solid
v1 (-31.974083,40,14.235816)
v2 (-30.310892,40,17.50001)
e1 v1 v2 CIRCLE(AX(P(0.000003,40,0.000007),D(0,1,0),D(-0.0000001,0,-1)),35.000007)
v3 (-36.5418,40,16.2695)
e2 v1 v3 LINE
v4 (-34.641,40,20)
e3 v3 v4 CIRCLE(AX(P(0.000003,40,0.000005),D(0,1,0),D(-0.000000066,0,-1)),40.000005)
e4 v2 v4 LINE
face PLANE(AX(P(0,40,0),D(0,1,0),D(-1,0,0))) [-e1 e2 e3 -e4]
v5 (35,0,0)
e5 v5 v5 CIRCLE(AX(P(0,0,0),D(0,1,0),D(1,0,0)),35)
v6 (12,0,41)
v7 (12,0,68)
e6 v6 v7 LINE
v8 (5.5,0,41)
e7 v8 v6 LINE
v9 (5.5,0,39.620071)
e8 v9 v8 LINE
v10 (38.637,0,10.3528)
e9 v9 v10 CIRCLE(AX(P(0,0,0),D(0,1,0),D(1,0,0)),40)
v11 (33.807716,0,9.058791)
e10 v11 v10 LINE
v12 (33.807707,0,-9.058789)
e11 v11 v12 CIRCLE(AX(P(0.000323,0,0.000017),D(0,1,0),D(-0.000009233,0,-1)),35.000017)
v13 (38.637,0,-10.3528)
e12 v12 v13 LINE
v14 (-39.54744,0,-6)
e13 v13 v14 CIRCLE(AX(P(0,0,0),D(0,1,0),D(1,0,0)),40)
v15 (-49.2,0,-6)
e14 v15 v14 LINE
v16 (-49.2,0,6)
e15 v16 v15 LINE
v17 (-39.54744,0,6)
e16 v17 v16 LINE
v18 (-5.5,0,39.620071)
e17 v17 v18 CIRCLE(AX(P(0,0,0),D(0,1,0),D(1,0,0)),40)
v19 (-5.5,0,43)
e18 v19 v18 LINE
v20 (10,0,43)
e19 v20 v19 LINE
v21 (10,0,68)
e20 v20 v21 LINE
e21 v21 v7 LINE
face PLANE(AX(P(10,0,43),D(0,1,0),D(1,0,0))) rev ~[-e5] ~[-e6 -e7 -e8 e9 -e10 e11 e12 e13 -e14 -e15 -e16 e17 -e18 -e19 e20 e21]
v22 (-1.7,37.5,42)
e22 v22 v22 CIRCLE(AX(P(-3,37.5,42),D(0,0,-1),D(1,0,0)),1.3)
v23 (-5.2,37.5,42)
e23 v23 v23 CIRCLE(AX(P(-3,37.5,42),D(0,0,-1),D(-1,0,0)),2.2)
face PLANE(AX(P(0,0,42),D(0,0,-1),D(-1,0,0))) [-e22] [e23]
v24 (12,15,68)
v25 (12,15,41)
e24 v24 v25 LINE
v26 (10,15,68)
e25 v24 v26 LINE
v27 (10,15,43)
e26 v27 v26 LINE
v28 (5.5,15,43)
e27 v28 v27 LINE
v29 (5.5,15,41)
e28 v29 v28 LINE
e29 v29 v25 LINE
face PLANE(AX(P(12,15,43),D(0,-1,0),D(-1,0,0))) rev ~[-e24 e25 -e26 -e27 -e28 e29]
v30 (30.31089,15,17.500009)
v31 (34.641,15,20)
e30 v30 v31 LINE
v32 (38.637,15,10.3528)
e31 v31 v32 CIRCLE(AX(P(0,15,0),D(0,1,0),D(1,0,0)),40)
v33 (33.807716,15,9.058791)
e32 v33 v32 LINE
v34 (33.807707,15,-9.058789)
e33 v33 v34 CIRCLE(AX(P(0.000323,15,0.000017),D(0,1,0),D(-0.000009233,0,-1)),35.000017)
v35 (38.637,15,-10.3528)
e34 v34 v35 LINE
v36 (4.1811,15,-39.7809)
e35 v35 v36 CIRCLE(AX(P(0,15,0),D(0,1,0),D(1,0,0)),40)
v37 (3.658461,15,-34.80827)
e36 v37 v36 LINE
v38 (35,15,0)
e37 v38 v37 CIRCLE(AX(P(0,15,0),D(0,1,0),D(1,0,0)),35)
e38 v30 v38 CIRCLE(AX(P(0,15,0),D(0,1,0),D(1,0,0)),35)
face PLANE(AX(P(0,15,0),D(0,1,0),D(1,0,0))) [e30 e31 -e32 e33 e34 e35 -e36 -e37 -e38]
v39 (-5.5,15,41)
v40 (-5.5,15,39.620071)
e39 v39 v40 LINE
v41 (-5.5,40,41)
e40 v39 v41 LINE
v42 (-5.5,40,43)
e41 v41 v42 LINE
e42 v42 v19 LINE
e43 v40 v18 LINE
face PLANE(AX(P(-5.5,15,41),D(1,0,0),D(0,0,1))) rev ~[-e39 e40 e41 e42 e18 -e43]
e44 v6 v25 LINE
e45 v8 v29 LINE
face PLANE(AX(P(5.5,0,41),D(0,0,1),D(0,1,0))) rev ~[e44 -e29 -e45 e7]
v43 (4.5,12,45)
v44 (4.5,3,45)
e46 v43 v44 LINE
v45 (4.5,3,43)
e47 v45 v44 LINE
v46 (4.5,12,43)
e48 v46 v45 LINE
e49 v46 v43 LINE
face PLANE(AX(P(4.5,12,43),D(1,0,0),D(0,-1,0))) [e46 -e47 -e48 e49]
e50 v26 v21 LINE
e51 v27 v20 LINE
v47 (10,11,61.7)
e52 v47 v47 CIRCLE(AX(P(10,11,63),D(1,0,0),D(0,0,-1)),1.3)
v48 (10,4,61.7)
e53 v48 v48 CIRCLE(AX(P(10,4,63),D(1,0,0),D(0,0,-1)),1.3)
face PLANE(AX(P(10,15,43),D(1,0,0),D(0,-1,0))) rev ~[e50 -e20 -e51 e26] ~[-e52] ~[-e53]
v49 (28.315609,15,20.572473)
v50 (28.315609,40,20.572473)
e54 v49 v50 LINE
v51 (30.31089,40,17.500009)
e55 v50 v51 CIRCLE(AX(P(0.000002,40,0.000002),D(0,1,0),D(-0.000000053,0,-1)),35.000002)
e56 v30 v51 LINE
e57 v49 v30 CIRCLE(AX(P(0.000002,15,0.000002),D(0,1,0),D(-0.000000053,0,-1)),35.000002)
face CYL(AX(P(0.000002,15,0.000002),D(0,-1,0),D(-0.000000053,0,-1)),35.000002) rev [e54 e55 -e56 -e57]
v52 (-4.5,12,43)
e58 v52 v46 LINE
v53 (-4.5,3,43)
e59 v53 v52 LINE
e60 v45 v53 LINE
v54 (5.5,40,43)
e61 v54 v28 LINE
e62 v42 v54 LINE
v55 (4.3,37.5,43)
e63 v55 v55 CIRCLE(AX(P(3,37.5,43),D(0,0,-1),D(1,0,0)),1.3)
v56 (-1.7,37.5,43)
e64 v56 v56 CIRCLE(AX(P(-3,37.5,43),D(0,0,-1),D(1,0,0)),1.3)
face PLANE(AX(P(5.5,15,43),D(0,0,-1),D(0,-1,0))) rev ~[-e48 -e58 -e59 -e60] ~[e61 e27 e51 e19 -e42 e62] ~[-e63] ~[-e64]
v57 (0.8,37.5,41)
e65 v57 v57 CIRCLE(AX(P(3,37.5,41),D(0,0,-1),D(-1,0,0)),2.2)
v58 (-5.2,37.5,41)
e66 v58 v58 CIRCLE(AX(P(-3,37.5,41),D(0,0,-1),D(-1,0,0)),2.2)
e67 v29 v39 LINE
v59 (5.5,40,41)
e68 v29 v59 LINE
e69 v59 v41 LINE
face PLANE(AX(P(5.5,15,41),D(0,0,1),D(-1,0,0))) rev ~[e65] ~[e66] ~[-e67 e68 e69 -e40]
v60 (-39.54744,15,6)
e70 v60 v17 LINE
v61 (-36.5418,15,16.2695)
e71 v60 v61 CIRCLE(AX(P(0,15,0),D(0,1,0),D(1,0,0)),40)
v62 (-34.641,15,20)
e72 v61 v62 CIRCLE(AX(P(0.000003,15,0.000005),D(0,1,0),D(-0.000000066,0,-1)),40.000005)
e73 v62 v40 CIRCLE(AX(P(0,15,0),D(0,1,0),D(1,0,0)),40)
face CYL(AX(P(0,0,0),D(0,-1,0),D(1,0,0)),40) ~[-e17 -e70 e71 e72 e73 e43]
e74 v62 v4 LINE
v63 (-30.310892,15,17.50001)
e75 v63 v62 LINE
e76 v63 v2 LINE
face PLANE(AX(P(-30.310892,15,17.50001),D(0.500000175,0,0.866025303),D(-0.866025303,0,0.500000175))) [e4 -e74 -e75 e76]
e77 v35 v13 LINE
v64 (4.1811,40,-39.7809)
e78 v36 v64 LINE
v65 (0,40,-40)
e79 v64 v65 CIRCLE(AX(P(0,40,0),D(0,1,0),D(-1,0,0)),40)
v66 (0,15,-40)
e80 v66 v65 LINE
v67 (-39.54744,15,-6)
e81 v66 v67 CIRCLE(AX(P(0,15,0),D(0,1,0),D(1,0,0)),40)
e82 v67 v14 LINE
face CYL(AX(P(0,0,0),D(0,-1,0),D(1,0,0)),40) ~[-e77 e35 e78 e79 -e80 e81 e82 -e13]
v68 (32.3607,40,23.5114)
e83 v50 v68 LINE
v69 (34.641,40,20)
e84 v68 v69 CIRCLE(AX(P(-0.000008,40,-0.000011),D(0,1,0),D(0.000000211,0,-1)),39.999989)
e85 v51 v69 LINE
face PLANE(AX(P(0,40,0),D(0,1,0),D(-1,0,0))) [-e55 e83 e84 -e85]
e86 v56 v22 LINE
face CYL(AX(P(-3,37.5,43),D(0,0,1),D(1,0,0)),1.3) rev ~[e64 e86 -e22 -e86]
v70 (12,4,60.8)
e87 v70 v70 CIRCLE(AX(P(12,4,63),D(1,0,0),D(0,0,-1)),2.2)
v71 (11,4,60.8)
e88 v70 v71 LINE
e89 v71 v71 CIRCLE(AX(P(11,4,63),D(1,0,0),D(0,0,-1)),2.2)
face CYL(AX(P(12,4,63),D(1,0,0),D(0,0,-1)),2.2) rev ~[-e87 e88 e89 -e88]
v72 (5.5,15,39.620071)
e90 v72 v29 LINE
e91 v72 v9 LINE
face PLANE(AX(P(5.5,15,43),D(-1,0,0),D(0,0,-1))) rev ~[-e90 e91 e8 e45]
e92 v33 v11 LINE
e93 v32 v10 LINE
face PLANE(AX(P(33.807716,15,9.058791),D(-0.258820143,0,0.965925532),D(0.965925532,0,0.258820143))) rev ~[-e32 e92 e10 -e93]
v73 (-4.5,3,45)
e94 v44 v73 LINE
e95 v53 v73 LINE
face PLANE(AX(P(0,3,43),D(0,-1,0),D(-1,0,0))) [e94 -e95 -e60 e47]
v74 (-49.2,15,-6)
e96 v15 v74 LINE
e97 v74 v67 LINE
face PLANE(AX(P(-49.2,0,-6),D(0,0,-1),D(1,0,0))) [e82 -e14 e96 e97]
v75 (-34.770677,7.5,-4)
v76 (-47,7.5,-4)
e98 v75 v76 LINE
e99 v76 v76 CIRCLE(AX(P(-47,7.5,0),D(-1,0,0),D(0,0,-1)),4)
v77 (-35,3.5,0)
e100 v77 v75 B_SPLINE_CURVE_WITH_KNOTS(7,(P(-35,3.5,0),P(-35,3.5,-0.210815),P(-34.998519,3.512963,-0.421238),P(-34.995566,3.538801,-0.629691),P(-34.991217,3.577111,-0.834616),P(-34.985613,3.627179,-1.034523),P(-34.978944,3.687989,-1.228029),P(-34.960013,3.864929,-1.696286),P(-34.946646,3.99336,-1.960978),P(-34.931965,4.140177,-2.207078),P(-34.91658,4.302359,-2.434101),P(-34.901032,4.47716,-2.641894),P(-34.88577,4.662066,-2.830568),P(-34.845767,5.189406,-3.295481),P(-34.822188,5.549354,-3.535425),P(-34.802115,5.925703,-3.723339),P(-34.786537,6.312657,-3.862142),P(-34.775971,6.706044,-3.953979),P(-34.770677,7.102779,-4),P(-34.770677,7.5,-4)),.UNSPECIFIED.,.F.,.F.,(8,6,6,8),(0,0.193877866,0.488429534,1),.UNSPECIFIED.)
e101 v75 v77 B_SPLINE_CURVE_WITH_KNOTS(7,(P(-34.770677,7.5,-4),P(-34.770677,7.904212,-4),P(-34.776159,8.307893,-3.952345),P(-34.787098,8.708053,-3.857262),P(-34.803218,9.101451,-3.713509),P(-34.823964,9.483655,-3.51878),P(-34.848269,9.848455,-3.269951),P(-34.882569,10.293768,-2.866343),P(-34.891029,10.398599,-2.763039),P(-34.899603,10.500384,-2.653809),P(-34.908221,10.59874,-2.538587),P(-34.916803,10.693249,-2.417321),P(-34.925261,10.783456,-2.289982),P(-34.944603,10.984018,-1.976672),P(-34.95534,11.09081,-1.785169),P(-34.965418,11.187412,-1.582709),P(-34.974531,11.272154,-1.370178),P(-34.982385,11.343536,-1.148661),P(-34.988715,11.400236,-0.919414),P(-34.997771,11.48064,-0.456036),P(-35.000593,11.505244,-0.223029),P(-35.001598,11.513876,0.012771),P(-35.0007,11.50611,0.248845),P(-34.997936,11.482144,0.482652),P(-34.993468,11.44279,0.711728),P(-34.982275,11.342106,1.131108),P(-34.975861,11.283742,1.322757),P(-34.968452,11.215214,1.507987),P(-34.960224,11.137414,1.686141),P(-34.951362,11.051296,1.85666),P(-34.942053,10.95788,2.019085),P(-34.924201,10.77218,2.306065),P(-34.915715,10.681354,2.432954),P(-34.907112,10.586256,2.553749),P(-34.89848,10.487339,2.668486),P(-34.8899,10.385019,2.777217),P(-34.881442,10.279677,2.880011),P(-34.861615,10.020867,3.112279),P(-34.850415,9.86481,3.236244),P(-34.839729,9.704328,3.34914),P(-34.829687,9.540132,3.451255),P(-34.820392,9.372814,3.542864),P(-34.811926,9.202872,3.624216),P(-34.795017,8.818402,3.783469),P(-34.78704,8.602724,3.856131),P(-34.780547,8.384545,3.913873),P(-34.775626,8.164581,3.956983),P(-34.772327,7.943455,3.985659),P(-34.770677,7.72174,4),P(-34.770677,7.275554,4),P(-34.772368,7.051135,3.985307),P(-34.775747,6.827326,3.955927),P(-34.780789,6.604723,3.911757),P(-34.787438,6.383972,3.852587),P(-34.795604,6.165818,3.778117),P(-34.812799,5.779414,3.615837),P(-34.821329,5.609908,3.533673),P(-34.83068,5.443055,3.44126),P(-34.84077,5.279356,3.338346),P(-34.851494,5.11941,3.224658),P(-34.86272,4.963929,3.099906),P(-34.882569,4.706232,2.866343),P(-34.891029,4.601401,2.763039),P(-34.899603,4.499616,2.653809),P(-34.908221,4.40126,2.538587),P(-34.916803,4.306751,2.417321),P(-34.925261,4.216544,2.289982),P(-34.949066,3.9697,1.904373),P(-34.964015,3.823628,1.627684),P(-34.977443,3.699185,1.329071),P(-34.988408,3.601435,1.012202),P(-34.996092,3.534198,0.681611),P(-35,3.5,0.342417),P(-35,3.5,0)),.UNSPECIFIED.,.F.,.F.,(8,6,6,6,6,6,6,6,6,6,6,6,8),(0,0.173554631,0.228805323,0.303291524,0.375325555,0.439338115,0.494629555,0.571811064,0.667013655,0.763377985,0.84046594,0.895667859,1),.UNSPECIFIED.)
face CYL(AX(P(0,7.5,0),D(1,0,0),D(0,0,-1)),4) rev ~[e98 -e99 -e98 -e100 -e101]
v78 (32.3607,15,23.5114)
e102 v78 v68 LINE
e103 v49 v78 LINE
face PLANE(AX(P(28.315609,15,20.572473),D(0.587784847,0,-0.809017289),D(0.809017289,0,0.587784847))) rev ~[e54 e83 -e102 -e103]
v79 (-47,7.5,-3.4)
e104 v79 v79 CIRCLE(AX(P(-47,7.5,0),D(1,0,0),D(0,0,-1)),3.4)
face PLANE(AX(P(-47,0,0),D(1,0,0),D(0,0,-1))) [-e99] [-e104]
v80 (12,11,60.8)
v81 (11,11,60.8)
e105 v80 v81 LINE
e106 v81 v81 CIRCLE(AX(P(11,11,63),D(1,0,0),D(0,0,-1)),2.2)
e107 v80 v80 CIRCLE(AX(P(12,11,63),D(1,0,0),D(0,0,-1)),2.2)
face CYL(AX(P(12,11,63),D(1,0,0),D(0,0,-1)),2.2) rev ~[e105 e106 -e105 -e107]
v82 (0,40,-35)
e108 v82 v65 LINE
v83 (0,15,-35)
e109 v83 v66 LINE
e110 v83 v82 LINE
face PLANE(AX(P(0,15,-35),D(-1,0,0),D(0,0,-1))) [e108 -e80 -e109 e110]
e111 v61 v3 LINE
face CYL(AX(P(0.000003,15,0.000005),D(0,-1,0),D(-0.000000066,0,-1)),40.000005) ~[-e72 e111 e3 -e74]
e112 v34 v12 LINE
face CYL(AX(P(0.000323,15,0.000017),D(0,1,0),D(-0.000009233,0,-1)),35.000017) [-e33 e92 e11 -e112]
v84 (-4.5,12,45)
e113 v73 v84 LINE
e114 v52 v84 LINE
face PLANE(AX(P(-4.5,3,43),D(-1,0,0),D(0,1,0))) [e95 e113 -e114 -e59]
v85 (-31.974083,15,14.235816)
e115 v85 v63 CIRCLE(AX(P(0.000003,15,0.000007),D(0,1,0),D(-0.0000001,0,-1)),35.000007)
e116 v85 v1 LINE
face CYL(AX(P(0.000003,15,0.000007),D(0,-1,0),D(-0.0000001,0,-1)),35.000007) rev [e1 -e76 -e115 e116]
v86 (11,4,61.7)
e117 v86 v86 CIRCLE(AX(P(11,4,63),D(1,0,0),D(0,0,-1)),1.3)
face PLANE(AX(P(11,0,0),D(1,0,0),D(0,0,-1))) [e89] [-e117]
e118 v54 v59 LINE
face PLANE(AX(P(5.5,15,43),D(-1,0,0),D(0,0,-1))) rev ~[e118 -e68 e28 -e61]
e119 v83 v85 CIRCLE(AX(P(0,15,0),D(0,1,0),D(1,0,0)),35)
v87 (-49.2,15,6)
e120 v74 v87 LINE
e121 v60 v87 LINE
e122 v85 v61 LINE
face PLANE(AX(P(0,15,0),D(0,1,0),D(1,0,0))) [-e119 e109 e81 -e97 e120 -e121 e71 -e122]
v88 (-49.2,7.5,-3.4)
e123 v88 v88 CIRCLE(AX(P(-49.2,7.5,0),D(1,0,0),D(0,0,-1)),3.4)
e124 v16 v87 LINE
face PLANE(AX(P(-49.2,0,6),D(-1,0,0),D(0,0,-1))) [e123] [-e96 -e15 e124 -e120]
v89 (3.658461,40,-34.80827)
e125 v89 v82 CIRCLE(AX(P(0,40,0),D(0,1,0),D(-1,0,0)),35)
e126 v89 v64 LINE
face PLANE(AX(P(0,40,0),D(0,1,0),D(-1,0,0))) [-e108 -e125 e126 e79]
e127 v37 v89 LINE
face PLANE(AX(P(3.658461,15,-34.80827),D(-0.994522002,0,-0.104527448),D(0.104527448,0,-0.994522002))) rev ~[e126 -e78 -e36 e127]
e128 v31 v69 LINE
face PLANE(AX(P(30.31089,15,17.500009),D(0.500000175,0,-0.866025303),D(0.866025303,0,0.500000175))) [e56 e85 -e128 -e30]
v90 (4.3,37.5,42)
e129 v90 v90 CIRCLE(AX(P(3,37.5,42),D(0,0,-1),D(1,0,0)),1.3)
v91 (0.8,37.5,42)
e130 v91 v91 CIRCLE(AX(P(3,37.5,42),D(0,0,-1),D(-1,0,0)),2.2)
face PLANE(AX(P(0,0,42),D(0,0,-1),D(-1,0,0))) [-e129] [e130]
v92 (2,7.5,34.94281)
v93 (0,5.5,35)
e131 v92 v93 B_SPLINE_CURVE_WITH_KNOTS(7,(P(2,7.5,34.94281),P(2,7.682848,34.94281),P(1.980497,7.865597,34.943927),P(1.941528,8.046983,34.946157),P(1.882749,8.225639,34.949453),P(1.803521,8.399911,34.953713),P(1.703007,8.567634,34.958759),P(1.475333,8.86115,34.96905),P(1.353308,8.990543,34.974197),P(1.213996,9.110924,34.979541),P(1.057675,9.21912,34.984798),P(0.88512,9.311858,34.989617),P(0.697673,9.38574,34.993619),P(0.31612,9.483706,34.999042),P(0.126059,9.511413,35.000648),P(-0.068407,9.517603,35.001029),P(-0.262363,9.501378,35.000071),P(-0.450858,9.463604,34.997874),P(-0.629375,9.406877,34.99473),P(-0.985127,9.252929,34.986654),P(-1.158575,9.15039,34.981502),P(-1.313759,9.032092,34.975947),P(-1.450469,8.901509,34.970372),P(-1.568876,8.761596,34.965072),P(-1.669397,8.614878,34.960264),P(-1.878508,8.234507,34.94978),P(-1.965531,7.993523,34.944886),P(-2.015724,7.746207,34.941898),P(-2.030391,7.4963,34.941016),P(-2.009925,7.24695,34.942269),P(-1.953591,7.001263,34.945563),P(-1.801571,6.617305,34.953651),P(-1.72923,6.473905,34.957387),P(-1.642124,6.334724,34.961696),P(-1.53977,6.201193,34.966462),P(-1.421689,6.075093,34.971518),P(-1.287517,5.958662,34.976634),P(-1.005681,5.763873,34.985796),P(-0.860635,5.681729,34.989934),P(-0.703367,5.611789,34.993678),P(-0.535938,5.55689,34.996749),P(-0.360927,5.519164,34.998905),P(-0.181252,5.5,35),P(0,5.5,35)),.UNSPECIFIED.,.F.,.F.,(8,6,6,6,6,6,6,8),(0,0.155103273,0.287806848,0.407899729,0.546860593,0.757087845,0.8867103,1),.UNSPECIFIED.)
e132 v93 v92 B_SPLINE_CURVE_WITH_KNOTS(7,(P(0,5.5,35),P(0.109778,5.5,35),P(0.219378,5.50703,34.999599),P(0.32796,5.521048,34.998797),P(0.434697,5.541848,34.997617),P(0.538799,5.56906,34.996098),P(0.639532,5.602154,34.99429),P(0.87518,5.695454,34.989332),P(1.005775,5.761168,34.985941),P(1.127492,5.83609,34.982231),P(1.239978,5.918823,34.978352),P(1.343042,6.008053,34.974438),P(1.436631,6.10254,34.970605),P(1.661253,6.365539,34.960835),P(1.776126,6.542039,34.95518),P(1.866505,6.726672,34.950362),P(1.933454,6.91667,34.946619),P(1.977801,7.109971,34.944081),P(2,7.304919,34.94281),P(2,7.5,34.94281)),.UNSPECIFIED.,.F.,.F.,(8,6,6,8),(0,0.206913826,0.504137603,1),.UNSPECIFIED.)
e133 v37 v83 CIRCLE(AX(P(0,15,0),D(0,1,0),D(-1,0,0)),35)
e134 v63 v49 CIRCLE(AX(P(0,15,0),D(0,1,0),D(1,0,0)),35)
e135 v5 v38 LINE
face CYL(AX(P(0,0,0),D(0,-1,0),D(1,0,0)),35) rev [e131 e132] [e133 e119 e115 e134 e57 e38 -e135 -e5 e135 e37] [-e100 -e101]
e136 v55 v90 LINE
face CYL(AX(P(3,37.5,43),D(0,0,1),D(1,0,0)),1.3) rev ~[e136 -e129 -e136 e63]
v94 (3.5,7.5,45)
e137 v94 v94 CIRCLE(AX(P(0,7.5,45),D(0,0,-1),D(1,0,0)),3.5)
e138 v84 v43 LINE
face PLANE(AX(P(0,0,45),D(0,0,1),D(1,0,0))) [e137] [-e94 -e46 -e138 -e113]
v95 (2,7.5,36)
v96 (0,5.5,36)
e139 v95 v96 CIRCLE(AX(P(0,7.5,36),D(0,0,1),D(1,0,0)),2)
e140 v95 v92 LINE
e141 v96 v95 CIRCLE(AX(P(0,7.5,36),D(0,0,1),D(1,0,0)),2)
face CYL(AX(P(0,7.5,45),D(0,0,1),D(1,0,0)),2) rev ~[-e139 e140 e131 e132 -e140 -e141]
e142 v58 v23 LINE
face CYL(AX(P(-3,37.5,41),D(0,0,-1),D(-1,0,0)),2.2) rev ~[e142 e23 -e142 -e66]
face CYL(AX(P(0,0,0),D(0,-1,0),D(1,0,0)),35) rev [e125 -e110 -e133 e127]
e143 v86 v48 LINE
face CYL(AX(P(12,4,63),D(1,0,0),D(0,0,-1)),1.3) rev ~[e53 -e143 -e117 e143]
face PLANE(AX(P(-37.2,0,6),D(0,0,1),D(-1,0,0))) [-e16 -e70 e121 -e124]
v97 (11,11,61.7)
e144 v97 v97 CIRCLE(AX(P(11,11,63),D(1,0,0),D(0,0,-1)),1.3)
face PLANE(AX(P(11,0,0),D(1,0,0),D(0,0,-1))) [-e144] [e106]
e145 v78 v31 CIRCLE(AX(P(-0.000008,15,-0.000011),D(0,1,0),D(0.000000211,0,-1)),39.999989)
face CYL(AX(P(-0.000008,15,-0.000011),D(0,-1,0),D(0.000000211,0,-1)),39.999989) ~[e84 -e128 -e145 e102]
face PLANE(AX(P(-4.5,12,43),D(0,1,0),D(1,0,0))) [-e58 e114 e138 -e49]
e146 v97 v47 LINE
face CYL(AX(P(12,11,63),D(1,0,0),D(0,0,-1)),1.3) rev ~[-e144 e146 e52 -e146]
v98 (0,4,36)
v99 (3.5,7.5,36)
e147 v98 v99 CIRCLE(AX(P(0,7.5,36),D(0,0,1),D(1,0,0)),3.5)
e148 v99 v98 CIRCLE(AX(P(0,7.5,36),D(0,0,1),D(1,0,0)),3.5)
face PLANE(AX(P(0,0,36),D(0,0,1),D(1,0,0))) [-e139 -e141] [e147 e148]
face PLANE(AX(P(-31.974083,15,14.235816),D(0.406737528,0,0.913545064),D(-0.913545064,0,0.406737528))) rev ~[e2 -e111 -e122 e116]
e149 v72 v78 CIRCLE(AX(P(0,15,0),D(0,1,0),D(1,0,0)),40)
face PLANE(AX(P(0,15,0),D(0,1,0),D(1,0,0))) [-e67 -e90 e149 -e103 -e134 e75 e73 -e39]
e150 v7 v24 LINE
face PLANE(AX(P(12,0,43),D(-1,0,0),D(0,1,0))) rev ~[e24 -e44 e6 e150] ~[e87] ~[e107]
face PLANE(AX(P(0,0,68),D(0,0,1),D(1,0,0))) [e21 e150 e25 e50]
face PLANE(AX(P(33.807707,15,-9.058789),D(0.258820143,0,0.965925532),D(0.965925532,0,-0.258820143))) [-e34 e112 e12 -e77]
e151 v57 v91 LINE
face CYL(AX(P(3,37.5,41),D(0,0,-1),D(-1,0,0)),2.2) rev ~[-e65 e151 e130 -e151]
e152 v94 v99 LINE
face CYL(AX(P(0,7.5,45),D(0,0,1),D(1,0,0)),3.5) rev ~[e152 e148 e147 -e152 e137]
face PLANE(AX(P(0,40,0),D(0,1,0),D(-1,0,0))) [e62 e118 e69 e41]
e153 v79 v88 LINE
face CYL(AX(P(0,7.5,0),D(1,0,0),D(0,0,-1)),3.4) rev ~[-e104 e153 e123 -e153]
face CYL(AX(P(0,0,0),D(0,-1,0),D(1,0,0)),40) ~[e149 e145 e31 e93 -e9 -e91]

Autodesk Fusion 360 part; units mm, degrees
sketch "Sketch1" plane through (0, 0, 0) normal (0, 1, 0) x (1, 0, 0)
  circle A0 centre (0, 0) radius 35
  circle A1 centre (0, 0) radius 40
  dimension "d1" = 70
  dimension "d2" = 5
extrude "Extrude1" add sketch "Sketch1" along normal blind 15
sketch "Sketch4" plane through (0, 15, 0) normal (0, 1, 0) x (-1, 0, 0)
  circle A0 centre (0, 0) radius 35
  circle A1 centre (0, 0) radius 40
  line L0 (0, 0) -> (0, -40)
  line L1 (0, 0) -> (-4.1811, -39.7809)
  line L2 (0, 0) -> (40, 0) construction
  dimension "d5" = 96
  dimension "d6" = 40
extrude "Extrude2" add sketch "Sketch4" along normal blind 25 contours A0 A1 L0 L1 picked at (-1.8026, -38.2856)
sketch "Sketch5" plane through (0, 15, 0) normal (0, 1, 0) x (-1, 0, 0)
  line L0 (0, -35) -> (0, -40)
  arc A0 (0, -40) -> (-4.1811, -39.7809) centre (0, 0) ccw
  line L1 (-4.1811, -39.7809) -> (-3.6585, -34.8083)
  arc A1 (0, -35) -> (-3.6585, -34.8083) centre (0, 0) ccw
  line L2 (0, 0) -> (-38.637, 10.3528)
  line L3 (0, 0) -> (40, 0) construction
  line L4 (0, 0) -> (-38.637, -10.3528)
  line L5 (0, 0) -> (-40, 0) construction
  dimension "d9" = 165
  dimension "d10" = 40
  dimension "d11" = 15
  dimension "d12" = 40
extrude "Extrude3" cut sketch "Sketch5" against normal blind 15 contours A0 A1 L2 L4
sketch "Sketch6" plane through (0, 15, 0) normal (0, 1, 0) x (-1, 0, 0)
  line L0 (-38.637, 10.3528) -> (-33.8074, 9.0587)
  arc A0 (0, -35) -> (-33.8074, 9.0587) centre (0, 0) ccw
  line L1 (0, -35) -> (0, -40)
  arc A1 (0, -40) -> (-38.637, 10.3528) centre (0, 0) ccw
  line L2 (0, 0) -> (-34.641, 20)
  line L3 (0, 0) -> (-40, 0) construction
  line L4 (0, 0) -> (-32.3607, 23.5114)
  line L5 (0, 0) -> (40, 0) construction
  dimension "d15" = 30
  dimension "d16" = 40
  dimension "d17" = 144
  dimension "d18" = 40
extrude "Extrude4" add sketch "Sketch6" along normal blind 25 contours A0 A1 L2 L4
sketch "Sketch7" plane through (0, 15, 0) normal (0, 1, 0) x (-1, 0, 0)
  line L0 (-32.3607, 23.5114) -> (-28.3156, 20.5725)
  arc A0 (0, -35) -> (-28.3156, 20.5725) centre (0, 0) ccw
  line L1 (0, -35) -> (0, -40)
  arc A1 (0, -40) -> (-32.3607, 23.5114) centre (0, 0) ccw
  line L2 (0, 0) -> (34.641, 20)
  line L3 (0, 0) -> (40, 0) construction
  line L4 (0, 0) -> (36.5418, 16.2695)
  line L5 (0, 0) -> (40, 0) construction
  dimension "d21" = 30
  dimension "d22" = 24
  dimension "d23" = 40
extrude "Extrude5" add sketch "Sketch7" along normal blind 25 contours A0 A1 L2 L4
sketch "Sketch8" plane through (0, 0, 0) normal (0, 1, 0) x (1, 0, 0)
  line L0 (0, 0) -> (-49.2, 0)
  line L1 (-49.2, 0) -> (-49.2, 6)
  line L2 (-49.2, 6) -> (-37.2, 6)
  line L3 (-37.2, 6) -> (-37.2, -6)
  line L4 (-37.2, -6) -> (-49.2, -6)
  line L5 (-49.2, -6) -> (-49.2, 6)
  dimension "d26" = 49.2
  dimension "d27" = 6
  dimension "d28" = 12
  dimension "d29" = 12
extrude "Extrude6" add sketch "Sketch8" along normal blind 15
sketch "Sketch9" plane through (0, 0, 0) normal (1, 0, 0) x (0, 0, -1)
  line L0 (0, 0) -> (0, 7.5)
  circle A0 centre (0, 7.5) radius 4
  dimension "d32" = 7.5
  dimension "d33" = 8
extrude "Extrude7" cut sketch "Sketch9" against normal blind 47
sketch "Sketch10" plane through (0, 0, 0) normal (1, 0, 0) x (0, 0, -1)
  circle A0 centre (0, 7.5) radius 3.4
  point P0 (0, 7.5)
  dimension "d36" = 6.8
extrude "Extrude8" cut sketch "Sketch10" against normal blind 49.2
sketch "Sketch11" plane through (0, 0, 0) normal (0, 1, 0) x (1, 0, 0)
  line L0 (0, 0) -> (0, -43)
  line L1 (0, -43) -> (5.5, -43)
  line L2 (5.5, -43) -> (-5.5, -43)
  line L3 (-5.5, -43) -> (-5.5, -38)
  line L4 (-5.5, -38) -> (5.5, -38)
  line L5 (5.5, -38) -> (5.5, -43)
  dimension "d39" = 43
  dimension "d40" = 5.5
  dimension "d41" = 11
  dimension "d42" = 5
extrude "Extrude9" add sketch "Sketch11" along normal blind 15
sketch "Sketch12" plane through (0, 0, 43) normal (0, 0, 1) x (1, 0, 0)
  line L0 (-5.5, 0) -> (5.5, 0)
  line L1 (5.5, 0) -> (5.5, 15)
  line L2 (5.5, 15) -> (-5.5, 15)
  line L3 (-5.5, 15) -> (-5.5, 0)
  line L4 (0, 0) -> (0, 7.5)
  line L5 (4.5, 3) -> (-4.5, 3)
  line L6 (-4.5, 3) -> (-4.5, 12)
  line L7 (-4.5, 12) -> (4.5, 12)
  line L8 (4.5, 12) -> (4.5, 3)
  line L9 (4.5, 3) -> (-4.5, 12) construction
  line L10 (-4.5, 3) -> (4.5, 12) construction
  point P0 (0, 7.5)
  dimension "d45" = 7.5
  dimension "d46" = 9
  dimension "d47" = 9
extrude "Extrude10" add sketch "Sketch12" along normal blind 2 contours L5 L6 L7 L8
sketch "Sketch13" plane through (0, 0, 45) normal (0, 0, 1) x (1, 0, 0)
  line L0 (4.5, 12) -> (-4.5, 12)
  line L1 (-4.5, 12) -> (-4.5, 3)
  line L2 (-4.5, 3) -> (4.5, 3)
  line L3 (4.5, 3) -> (4.5, 12)
  line L4 (0, 3) -> (0, 7.5)
  circle A0 centre (0, 7.5) radius 2
  circle A1 centre (0, 7.5) radius 3.5
  dimension "d50" = 4.5
  dimension "d51" = 4
  dimension "d54" = 7
extrude "Extrude11" cut sketch "Sketch13" against normal blind 20 contours A0
extrude "Extrude12" cut sketch "Sketch13" against normal blind 9 contours A1
sketch "Sketch14" plane through (0, 15, 0) normal (0, 1, 0) x (-1, 0, 0)
  arc A0 (-5.5, 39.6201) -> (-32.3607, 23.5114) centre (0, 0) ccw
  line L0 (-32.3607, 23.5114) -> (-28.3156, 20.5725)
  arc A1 (30.3109, 17.5) -> (-28.3156, 20.5725) centre (0, 0) ccw
  line L1 (30.3109, 17.5) -> (34.641, 20)
  arc A2 (34.641, 20) -> (5.5, 39.6201) centre (0, 0) ccw
  line L2 (5.5, 39.6201) -> (5.5, 43)
  line L3 (5.5, 43) -> (-5.5, 43)
  line L4 (-5.5, 43) -> (-5.5, 39.6201)
  line L5 (5.5, 43) -> (-5.5, 43)
  line L6 (-5.5, 43) -> (-5.5, 41)
  line L7 (-5.5, 41) -> (5.5, 41)
  line L8 (5.5, 41) -> (5.5, 43)
  dimension "d57" = 11
  dimension "d58" = 2
extrude "Extrude13" add sketch "Sketch14" along normal blind 25 contours L2 L3 L4 L5 L6 L7 L8
sketch "Sketch15" plane through (5.5, 0, 0) normal (1, 0, 0) x (0, 0, -1)
  line L0 (-39.6201, 0) -> (-39.6201, 15)
  line L1 (-39.6201, 15) -> (-41, 15)
  line L2 (-41, 15) -> (-41, 40)
  line L3 (-41, 40) -> (-43, 40)
  line L4 (-43, 40) -> (-43, 0)
  line L5 (-43, 0) -> (-39.6201, 0)
  line L6 (-43, 0) -> (-41, 0)
  line L7 (-41, 0) -> (-41, 15)
  line L8 (-41, 15) -> (-43, 15)
  line L9 (-43, 15) -> (-43, 0)
extrude "Extrude14" add sketch "Sketch15" along normal blind 6.5 contours L4 L5 L6 L7 L8 L9
sketch "Sketch16" plane through (0, 0, 43) normal (0, 0, 1) x (1, 0, 0)
  line L0 (4.5, 12) -> (4.5, 3)
  line L1 (4.5, 3) -> (-4.5, 3)
  line L2 (-4.5, 3) -> (-4.5, 12)
  line L3 (-4.5, 12) -> (4.5, 12)
  line L4 (-5.5, 0) -> (12, 0)
  line L5 (12, 0) -> (12, 15)
  line L6 (12, 15) -> (5.5, 15)
  line L7 (5.5, 15) -> (5.5, 40)
  line L8 (5.5, 40) -> (-5.5, 40)
  line L9 (-5.5, 40) -> (-5.5, 0)
  line L10 (12, 15) -> (10, 15)
  line L11 (10, 15) -> (10, 0)
  line L12 (10, 0) -> (12, 0)
  line L13 (12, 0) -> (12, 15)
extrude "Extrude15" add sketch "Sketch16" along normal blind 25 contours L4 L5 L6 L10 L11 L12 L13
sketch "Sketch17" plane through (12, 0, 0) normal (1, 0, 0) x (0, 0, -1)
  line L0 (-68, 0) -> (-41, 0)
  line L1 (-41, 0) -> (-41, 15)
  line L2 (-41, 15) -> (-68, 15)
  line L3 (-68, 15) -> (-68, 0)
  line L4 (-68, 0) -> (-63, 0)
  line L5 (-63, 0) -> (-63, 4)
  circle A0 centre (-63, 4) radius 1.3
  dimension "d65" = 5
  dimension "d66" = 4
  dimension "d67" = 2.6
extrude "Extrude16" cut sketch "Sketch17" against normal blind 2 contours A0
sketch "Sketch18" plane through (12, 0, 0) normal (1, 0, 0) x (0, 0, -1)
  circle A0 centre (-63, 4) radius 1.3
  line L0 (-68, 0) -> (-41, 0)
  line L1 (-41, 0) -> (-41, 15)
  line L2 (-41, 15) -> (-68, 15)
  line L3 (-68, 15) -> (-68, 0)
  line L4 (-68, 15) -> (-63, 15)
  line L5 (-63, 15) -> (-63, 11)
  circle A1 centre (-63, 11) radius 1.3
  dimension "d70" = 5
  dimension "d71" = 4
  dimension "d72" = 2.6
extrude "Extrude17" cut sketch "Sketch18" against normal blind 2 contours A1
sketch "Sketch19" plane through (0, 0, 43) normal (0, 0, 1) x (1, 0, 0)
  line L0 (10, 0) -> (10, 15)
  line L1 (10, 15) -> (5.5, 15)
  line L2 (5.5, 15) -> (5.5, 40)
  line L3 (5.5, 40) -> (-5.5, 40)
  line L4 (-5.5, 40) -> (-5.5, 0)
  line L5 (-5.5, 0) -> (10, 0)
  line L6 (4.5, 12) -> (4.5, 3)
  line L7 (4.5, 3) -> (-4.5, 3)
  line L8 (-4.5, 3) -> (-4.5, 12)
  line L9 (-4.5, 12) -> (4.5, 12)
  line L10 (-5.5, 40) -> (-3, 40)
  line L11 (-3, 40) -> (-3, 37.5)
  circle A0 centre (-3, 37.5) radius 1.3
  dimension "d75" = 2.5
  dimension "d76" = 2.5
  dimension "d77" = 2.6
extrude "Extrude18" cut sketch "Sketch19" against normal blind 2 contours A0
sketch "Sketch20" plane through (0, 0, 43) normal (0, 0, 1) x (1, 0, 0)
  circle A0 centre (-3, 37.5) radius 1.3
  line L0 (10, 0) -> (10, 15)
  line L1 (10, 15) -> (5.5, 15)
  line L2 (5.5, 15) -> (5.5, 40)
  line L3 (5.5, 40) -> (-5.5, 40)
  line L4 (-5.5, 40) -> (-5.5, 0)
  line L5 (-5.5, 0) -> (10, 0)
  line L6 (4.5, 12) -> (4.5, 3)
  line L7 (4.5, 3) -> (-4.5, 3)
  line L8 (-4.5, 3) -> (-4.5, 12)
  line L9 (-4.5, 12) -> (4.5, 12)
  line L10 (5.5, 40) -> (3, 40)
  line L11 (3, 40) -> (3, 37.5)
  circle A1 centre (3, 37.5) radius 1.3
  dimension "d80" = 2.5
  dimension "d81" = 2.5
  dimension "d82" = 2.6
extrude "Extrude19" cut sketch "Sketch20" against normal blind 2 contours A1
sketch "Sketch21" plane through (12, 0, 0) normal (1, 0, 0) x (0, 0, -1)
  circle A0 centre (-63, 11) radius 1.3
  circle A1 centre (-63, 4) radius 1.3
  line L0 (-68, 0) -> (-41, 0)
  line L1 (-41, 0) -> (-41, 15)
  line L2 (-41, 15) -> (-68, 15)
  line L3 (-68, 15) -> (-68, 0)
  circle A2 centre (-63, 11) radius 2.2
  dimension "d85" = 4.4
extrude "Extrude20" cut sketch "Sketch21" against normal blind 1 contours A2
sketch "Sketch22" plane through (12, 0, 0) normal (1, 0, 0) x (0, 0, -1)
  circle A0 centre (-63, 11) radius 2.2
  circle A1 centre (-63, 4) radius 1.3
  line L0 (-68, 0) -> (-41, 0)
  line L1 (-41, 0) -> (-41, 15)
  line L2 (-41, 15) -> (-68, 15)
  line L3 (-68, 15) -> (-68, 0)
  circle A2 centre (-63, 4) radius 2.2
  dimension "d88" = 4.4
extrude "Extrude21" cut sketch "Sketch22" against normal blind 1 contours A2
sketch "Sketch23" plane through (0, 0, 41) normal (0, 0, -1) x (-1, 0, 0)
  circle A0 centre (-3, 37.5) radius 1.3
  circle A1 centre (3, 37.5) radius 1.3
  line L0 (-5.5, 15) -> (5.5, 15)
  line L1 (5.5, 15) -> (5.5, 40)
  line L2 (5.5, 40) -> (-5.5, 40)
  line L3 (-5.5, 40) -> (-5.5, 15)
  circle A2 centre (3, 37.5) radius 2.2
  dimension "d91" = 4.4
extrude "Extrude22" cut sketch "Sketch23" against normal blind 1 contours A2
sketch "Sketch24" plane through (0, 0, 41) normal (0, 0, -1) x (-1, 0, 0)
  circle A0 centre (3, 37.5) radius 2.2
  circle A1 centre (-3, 37.5) radius 1.3
  line L0 (-5.5, 15) -> (5.5, 15)
  line L1 (5.5, 15) -> (5.5, 40)
  line L2 (5.5, 40) -> (-5.5, 40)
  line L3 (-5.5, 40) -> (-5.5, 15)
  circle A2 centre (-3, 37.5) radius 2.2
  dimension "d94" = 4.4
extrude "Extrude23" cut sketch "Sketch24" against normal blind 1 contours A2
